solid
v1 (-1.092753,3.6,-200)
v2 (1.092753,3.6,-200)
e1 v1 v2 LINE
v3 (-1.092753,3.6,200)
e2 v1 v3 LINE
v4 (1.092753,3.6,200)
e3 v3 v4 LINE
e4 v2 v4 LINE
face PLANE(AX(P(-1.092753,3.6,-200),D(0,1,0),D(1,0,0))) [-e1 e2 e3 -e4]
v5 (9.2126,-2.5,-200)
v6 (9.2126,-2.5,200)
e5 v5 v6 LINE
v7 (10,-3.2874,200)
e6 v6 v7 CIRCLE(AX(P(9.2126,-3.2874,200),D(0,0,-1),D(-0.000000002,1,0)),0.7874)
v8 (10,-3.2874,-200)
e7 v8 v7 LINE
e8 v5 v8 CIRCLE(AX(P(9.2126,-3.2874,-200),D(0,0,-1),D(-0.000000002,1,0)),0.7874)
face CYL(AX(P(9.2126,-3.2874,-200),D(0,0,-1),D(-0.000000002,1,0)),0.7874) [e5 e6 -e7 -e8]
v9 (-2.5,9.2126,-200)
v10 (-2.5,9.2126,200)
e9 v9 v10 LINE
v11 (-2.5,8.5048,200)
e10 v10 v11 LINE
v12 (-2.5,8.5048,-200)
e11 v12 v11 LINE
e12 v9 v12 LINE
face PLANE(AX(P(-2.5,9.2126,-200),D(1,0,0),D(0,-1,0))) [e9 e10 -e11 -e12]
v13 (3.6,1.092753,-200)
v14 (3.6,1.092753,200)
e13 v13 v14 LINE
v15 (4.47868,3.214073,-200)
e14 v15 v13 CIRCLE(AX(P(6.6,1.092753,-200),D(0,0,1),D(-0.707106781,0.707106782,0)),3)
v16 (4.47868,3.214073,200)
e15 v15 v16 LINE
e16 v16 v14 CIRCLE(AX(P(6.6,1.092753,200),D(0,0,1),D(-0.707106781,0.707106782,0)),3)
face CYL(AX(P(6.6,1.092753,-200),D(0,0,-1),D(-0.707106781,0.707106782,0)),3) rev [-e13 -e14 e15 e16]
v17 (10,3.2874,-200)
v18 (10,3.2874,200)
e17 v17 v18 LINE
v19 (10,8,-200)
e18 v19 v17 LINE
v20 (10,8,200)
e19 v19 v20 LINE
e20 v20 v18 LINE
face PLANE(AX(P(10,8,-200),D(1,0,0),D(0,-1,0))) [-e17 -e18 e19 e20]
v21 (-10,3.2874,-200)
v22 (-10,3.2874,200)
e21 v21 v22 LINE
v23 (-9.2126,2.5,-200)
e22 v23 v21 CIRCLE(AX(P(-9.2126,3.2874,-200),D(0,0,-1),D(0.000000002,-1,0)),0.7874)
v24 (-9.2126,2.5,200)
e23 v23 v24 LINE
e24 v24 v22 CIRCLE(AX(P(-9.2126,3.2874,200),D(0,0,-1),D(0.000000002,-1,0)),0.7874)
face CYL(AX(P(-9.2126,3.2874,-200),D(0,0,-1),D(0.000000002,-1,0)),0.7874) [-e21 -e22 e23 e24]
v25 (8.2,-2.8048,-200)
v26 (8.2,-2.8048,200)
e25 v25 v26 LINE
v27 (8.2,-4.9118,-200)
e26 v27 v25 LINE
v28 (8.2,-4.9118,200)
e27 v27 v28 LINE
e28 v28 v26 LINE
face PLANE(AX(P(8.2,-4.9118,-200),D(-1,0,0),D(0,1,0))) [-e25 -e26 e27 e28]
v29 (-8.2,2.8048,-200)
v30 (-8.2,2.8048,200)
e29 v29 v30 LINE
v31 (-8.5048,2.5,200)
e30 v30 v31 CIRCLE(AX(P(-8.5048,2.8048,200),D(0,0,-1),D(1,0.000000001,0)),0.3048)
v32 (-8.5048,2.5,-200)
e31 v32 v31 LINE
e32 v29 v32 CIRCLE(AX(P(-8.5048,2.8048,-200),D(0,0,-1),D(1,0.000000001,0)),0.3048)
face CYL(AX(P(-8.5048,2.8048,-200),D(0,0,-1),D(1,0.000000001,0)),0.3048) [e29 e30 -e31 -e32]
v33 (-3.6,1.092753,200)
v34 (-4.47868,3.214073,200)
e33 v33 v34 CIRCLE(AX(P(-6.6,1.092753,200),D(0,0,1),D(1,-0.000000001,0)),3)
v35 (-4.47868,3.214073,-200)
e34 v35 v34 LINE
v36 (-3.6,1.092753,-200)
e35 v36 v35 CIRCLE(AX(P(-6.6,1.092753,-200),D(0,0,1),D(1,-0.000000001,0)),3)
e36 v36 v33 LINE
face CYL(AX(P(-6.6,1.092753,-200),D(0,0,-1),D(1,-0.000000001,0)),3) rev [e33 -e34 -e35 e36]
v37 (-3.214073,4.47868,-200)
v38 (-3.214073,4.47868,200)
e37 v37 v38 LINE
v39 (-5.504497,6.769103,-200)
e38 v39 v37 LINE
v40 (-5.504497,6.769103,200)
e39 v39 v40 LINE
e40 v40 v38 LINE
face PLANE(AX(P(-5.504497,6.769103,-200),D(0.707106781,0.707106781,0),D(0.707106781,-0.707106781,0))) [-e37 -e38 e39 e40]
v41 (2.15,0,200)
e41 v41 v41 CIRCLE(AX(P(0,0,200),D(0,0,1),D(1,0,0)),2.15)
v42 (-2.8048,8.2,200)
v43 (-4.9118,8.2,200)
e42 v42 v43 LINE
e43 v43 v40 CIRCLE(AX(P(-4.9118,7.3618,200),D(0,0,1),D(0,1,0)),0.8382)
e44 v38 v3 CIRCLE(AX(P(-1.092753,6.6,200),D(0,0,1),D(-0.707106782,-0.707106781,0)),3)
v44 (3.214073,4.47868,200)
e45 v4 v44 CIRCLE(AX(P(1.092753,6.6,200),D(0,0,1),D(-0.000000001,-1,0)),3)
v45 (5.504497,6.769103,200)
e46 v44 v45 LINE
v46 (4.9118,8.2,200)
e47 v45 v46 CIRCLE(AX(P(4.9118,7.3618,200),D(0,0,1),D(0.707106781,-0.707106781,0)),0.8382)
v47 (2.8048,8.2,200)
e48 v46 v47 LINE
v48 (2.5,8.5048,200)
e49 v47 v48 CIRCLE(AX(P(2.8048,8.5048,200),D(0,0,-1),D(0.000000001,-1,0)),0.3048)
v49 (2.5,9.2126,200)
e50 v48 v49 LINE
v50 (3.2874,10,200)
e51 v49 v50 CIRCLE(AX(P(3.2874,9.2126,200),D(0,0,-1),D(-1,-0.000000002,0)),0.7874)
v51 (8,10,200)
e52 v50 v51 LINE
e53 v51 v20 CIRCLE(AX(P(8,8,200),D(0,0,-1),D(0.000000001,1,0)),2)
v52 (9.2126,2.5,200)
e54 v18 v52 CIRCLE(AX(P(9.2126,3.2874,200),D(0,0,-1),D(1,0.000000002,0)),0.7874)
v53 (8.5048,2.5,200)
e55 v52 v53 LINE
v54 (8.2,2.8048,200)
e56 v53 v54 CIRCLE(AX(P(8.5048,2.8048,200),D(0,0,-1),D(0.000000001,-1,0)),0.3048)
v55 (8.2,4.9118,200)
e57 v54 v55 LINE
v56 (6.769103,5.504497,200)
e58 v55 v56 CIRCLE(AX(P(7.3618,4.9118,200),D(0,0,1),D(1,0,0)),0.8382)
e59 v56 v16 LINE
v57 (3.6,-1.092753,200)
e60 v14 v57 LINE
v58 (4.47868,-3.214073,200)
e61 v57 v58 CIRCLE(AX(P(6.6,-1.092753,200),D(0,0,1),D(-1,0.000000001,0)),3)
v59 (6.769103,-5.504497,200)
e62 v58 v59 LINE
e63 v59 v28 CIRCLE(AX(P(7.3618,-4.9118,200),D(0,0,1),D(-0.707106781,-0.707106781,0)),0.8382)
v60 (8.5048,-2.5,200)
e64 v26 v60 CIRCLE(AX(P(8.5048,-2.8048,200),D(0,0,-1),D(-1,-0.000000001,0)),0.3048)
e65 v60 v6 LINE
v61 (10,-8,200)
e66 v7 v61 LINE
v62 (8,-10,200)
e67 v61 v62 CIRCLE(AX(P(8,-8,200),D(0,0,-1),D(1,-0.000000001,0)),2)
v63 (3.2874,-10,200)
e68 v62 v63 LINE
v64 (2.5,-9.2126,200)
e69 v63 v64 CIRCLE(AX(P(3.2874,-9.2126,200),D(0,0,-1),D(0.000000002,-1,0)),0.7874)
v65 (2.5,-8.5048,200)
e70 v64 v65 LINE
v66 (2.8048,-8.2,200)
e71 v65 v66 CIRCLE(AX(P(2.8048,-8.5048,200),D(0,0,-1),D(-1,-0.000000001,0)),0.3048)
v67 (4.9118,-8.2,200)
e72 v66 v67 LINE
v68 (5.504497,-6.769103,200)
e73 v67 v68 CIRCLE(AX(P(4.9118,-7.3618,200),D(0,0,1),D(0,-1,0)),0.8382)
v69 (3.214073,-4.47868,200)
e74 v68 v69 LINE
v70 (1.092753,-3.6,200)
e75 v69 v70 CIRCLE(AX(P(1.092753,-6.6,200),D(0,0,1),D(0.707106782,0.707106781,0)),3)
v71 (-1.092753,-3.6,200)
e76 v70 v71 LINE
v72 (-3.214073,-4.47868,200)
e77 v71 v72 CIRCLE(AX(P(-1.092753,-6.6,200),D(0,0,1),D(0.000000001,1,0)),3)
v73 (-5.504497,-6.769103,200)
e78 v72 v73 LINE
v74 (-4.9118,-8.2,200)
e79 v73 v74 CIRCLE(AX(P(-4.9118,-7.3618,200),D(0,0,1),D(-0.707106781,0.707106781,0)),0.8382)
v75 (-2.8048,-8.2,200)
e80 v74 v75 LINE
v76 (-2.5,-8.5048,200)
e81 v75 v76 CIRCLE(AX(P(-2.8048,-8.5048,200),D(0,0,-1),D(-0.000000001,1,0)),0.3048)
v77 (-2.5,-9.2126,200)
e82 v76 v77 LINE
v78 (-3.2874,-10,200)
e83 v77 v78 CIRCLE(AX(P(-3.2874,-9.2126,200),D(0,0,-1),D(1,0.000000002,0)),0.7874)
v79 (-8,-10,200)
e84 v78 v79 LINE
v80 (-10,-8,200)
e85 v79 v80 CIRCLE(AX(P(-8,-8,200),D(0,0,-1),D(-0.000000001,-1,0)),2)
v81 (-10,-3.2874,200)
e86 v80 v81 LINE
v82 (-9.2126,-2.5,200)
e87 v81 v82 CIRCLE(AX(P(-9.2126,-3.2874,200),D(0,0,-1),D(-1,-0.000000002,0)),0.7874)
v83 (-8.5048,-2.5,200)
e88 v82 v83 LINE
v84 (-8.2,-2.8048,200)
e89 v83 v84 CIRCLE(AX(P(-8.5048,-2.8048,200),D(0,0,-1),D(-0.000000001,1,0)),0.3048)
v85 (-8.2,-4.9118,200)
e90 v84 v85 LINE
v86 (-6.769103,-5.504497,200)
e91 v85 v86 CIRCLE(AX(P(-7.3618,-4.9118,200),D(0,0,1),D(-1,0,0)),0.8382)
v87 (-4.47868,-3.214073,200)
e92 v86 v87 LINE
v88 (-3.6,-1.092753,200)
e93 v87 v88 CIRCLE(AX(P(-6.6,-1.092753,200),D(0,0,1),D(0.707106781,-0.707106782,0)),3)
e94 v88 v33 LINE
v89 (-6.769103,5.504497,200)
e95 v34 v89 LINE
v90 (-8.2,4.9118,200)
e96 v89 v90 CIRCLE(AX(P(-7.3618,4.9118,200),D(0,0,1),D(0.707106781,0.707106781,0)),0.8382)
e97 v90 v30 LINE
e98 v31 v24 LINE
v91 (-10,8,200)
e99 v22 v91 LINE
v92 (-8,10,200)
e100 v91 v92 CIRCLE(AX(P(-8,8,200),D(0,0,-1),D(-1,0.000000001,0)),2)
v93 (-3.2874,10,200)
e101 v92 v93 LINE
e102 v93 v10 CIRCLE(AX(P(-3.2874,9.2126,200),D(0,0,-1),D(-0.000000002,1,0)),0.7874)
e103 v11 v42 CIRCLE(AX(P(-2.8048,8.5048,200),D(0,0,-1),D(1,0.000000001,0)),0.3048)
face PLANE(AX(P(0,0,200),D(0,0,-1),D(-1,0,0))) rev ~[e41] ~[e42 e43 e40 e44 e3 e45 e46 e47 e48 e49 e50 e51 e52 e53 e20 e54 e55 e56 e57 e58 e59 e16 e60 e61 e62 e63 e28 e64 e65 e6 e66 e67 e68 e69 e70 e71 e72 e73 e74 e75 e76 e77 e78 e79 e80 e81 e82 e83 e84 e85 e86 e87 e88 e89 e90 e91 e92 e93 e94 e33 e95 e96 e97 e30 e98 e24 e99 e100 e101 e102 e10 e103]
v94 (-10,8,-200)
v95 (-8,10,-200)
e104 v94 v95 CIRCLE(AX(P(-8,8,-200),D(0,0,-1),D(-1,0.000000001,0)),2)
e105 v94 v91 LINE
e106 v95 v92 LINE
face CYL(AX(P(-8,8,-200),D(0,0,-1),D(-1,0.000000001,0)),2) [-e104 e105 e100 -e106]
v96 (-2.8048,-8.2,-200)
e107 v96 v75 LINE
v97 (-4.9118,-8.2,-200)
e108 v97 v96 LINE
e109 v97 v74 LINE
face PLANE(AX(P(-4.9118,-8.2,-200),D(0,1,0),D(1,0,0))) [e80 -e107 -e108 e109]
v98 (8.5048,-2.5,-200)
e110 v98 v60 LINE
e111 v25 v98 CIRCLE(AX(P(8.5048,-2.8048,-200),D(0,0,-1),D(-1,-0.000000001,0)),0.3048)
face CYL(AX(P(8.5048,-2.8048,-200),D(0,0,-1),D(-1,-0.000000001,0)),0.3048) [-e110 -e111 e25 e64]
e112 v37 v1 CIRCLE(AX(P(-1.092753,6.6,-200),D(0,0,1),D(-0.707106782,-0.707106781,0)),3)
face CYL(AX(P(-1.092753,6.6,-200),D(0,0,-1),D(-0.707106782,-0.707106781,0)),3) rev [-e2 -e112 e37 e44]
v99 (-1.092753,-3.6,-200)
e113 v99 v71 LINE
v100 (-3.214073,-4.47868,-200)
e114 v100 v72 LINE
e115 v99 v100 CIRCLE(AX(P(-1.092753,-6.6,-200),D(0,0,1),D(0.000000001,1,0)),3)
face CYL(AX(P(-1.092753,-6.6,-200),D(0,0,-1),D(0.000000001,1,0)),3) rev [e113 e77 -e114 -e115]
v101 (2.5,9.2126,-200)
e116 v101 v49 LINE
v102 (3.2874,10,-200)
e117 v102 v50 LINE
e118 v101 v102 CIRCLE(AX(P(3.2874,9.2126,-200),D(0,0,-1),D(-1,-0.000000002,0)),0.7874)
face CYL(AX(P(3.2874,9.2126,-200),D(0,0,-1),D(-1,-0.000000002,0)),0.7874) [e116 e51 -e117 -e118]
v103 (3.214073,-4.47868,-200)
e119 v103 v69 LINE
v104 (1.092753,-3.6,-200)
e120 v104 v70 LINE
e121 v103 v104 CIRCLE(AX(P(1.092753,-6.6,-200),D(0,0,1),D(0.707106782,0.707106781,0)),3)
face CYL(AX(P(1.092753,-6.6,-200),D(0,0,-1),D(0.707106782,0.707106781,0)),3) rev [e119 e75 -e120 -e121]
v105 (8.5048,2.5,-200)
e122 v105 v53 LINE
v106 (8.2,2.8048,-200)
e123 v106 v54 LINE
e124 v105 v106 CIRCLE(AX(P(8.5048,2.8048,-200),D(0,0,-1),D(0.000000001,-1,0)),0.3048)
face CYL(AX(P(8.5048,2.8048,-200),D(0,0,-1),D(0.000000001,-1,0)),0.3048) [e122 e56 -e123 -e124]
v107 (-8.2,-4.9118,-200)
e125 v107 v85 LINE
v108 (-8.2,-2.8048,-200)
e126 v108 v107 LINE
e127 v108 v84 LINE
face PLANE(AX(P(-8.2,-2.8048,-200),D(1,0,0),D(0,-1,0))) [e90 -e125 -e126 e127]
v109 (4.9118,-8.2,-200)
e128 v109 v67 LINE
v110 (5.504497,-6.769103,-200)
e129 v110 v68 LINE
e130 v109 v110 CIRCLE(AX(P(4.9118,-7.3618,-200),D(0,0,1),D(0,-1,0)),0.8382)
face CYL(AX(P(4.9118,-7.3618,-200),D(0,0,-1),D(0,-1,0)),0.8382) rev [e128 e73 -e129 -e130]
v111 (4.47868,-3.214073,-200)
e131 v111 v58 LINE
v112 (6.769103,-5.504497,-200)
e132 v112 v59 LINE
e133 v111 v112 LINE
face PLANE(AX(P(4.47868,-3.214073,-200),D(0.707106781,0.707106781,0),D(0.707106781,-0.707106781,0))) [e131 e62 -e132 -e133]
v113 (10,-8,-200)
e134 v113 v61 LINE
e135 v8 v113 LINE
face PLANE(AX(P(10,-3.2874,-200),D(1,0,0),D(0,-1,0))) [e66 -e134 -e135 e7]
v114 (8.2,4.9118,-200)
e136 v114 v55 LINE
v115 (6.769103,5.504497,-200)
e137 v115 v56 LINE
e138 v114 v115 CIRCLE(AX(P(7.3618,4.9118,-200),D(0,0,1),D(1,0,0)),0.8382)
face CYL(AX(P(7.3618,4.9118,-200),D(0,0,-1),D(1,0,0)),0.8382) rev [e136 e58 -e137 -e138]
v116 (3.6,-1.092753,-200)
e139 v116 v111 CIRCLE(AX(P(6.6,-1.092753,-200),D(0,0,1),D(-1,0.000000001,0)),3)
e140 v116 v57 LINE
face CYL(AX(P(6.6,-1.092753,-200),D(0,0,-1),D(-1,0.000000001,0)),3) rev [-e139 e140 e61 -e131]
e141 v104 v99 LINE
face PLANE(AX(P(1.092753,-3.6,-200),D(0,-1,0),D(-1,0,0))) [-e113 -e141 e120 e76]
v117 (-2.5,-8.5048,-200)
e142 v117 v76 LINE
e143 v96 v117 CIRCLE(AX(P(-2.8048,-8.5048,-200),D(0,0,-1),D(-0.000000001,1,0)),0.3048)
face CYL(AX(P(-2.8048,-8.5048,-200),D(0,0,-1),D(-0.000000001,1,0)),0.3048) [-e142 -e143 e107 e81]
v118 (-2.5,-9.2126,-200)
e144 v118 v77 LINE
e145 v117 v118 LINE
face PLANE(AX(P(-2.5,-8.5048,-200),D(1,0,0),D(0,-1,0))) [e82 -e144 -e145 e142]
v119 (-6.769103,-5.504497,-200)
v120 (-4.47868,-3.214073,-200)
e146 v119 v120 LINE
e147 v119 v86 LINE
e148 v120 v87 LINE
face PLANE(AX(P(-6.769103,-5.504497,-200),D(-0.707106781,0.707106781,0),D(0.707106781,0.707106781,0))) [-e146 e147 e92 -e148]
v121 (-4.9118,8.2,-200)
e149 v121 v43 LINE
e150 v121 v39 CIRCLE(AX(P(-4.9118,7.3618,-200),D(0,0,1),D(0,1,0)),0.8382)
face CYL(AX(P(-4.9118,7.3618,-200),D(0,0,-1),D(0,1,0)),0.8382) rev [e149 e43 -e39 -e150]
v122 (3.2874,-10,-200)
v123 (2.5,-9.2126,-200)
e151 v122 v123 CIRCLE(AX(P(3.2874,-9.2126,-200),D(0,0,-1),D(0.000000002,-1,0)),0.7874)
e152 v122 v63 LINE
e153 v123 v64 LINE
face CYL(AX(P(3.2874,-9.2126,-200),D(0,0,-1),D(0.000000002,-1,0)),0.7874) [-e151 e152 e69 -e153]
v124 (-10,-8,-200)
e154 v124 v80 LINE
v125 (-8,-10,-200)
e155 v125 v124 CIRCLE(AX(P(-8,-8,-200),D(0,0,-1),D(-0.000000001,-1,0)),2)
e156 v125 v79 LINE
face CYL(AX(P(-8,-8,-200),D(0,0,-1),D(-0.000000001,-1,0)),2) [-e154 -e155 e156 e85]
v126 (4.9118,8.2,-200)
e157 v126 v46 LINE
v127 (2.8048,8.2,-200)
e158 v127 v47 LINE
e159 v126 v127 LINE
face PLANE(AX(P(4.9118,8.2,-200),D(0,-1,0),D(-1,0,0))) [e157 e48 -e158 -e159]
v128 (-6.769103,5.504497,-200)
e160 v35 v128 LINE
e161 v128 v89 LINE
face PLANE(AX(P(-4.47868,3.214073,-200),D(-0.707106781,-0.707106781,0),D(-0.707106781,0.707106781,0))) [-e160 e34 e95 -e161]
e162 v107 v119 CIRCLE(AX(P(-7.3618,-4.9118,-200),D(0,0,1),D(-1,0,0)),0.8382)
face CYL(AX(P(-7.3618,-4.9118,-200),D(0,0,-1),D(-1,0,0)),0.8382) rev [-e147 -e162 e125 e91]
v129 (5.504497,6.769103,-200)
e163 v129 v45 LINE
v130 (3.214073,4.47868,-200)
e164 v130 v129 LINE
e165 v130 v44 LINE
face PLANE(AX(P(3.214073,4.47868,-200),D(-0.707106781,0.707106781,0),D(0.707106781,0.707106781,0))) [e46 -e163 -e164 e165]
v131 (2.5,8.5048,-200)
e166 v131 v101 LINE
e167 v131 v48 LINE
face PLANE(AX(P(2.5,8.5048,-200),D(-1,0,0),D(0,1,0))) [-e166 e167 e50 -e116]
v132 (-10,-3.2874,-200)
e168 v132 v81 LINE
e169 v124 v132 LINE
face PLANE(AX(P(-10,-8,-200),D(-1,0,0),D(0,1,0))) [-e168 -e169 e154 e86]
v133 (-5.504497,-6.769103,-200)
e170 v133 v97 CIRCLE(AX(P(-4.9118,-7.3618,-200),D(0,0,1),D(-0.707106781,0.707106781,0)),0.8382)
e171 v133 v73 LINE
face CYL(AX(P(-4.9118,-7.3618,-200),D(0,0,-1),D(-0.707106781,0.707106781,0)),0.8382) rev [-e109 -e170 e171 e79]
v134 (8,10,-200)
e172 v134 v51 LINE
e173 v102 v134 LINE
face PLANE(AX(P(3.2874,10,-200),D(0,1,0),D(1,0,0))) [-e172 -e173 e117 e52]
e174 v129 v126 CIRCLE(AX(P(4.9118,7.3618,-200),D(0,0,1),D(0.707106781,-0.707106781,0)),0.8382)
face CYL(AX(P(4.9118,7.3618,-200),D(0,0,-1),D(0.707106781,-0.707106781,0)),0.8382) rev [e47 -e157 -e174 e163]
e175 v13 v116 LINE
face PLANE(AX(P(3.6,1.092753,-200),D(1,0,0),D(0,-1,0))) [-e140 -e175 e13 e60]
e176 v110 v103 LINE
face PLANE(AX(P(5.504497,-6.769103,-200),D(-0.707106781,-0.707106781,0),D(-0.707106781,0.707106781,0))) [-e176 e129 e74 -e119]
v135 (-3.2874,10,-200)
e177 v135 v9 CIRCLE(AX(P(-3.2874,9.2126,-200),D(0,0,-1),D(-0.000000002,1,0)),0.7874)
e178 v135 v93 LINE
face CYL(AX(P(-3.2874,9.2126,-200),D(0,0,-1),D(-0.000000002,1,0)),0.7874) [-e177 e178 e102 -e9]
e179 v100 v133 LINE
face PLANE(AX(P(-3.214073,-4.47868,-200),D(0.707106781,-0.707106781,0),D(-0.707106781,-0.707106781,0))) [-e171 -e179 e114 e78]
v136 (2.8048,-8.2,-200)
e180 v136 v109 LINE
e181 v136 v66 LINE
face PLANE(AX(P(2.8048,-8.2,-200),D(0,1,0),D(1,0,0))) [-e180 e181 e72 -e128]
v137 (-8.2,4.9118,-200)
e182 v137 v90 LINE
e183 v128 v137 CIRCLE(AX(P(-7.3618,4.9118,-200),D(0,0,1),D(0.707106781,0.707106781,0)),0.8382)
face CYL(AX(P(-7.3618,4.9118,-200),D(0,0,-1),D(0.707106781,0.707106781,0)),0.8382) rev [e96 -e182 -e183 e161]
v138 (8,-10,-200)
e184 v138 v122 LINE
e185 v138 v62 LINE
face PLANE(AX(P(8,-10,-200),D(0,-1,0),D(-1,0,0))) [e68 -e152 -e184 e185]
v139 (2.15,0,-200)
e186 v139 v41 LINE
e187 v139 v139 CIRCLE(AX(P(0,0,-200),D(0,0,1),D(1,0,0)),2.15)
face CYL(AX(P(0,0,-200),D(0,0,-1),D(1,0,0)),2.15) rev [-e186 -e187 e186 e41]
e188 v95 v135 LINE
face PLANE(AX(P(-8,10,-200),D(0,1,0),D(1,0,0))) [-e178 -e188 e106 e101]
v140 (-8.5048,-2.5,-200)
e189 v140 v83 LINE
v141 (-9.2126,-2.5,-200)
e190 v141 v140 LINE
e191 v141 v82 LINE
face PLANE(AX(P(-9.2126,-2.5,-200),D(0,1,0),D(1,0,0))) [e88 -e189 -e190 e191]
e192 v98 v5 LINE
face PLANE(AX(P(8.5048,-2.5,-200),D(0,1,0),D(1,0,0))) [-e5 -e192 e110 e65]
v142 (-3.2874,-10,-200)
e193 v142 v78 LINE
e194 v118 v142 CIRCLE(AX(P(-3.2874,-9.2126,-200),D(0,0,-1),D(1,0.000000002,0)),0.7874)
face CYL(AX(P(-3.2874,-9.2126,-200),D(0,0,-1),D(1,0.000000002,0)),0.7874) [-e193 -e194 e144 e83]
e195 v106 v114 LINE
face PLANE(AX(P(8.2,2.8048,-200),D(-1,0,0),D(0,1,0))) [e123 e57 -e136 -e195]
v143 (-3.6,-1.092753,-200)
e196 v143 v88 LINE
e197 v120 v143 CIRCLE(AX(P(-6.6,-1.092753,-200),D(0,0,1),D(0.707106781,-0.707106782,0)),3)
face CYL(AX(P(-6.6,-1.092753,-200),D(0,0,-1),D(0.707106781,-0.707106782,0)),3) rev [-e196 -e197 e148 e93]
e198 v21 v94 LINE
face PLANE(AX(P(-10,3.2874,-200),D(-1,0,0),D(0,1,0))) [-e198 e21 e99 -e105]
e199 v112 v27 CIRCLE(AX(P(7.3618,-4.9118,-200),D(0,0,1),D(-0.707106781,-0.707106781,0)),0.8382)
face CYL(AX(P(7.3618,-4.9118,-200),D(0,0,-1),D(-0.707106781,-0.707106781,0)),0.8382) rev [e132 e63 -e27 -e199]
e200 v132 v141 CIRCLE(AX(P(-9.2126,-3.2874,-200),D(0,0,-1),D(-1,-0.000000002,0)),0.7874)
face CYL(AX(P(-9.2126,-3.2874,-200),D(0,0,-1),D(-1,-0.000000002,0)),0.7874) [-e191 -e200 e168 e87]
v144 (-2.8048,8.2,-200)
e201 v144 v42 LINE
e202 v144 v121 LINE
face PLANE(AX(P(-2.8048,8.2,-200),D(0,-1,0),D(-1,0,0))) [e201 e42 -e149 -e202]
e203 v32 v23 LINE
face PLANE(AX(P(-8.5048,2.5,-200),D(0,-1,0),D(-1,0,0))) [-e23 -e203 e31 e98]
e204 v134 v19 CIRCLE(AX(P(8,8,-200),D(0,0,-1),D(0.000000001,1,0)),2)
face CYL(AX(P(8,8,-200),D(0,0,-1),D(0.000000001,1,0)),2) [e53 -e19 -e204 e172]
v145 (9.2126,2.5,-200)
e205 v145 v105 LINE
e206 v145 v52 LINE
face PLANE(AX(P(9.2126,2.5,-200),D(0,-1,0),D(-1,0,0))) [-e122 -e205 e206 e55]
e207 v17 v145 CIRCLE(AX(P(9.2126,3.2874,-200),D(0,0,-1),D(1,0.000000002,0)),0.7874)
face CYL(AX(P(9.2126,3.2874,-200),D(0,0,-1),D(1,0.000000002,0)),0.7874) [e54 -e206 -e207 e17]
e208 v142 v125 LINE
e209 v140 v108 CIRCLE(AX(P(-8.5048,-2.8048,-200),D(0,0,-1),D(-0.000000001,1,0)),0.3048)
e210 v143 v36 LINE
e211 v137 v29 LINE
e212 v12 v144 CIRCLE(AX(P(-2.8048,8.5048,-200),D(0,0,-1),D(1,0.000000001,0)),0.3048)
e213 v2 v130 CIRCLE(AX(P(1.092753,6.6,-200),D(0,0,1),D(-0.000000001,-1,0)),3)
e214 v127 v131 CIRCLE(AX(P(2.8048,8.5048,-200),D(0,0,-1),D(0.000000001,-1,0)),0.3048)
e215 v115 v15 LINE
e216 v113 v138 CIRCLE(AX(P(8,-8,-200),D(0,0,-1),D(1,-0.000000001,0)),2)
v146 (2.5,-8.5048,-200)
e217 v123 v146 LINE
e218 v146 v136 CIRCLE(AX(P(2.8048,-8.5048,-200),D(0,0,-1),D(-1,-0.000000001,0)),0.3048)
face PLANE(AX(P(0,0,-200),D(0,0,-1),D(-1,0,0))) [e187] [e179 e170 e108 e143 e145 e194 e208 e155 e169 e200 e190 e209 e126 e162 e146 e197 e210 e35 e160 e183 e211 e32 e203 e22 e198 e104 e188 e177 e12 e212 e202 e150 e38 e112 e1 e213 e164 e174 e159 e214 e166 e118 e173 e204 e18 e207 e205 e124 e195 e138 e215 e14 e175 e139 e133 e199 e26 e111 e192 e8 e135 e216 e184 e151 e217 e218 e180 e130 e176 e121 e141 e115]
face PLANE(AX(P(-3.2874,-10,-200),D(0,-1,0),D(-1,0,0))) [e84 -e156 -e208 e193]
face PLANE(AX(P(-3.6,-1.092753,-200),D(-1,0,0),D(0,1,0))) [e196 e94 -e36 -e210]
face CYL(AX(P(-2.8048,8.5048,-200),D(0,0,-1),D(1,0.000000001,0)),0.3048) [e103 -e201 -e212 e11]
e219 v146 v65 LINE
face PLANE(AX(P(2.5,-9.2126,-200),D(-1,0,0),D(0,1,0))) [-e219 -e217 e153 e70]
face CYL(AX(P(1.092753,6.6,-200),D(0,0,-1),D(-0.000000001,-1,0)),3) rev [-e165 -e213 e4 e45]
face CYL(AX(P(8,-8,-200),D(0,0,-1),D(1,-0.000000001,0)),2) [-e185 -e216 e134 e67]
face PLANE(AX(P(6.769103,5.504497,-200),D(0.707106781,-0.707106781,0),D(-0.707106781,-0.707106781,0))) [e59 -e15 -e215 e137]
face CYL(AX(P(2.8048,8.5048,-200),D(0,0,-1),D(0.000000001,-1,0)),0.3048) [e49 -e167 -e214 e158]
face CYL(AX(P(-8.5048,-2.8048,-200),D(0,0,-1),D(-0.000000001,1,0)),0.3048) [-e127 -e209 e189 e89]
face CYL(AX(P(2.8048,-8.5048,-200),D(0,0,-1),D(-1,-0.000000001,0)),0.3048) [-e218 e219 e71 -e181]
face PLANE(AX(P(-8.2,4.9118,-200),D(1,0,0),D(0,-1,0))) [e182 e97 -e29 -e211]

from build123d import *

# Parameters (mm, degrees)
BOSS_EXTRUDE1_DEPTH      = 200
BOSS_EXTRUDE1_DEPTH_BACK = 200
SKETCH3_R                = 2.15


with BuildPart() as part:
    # Sketch3 → Boss-Extrude1 (new, two sides: drawn at the far end of the back side and taken through both)
    with BuildSketch(Plane.XY.offset(-BOSS_EXTRUDE1_DEPTH_BACK)):
        with BuildLine():
            Line((3.2874, 10), (8, 10))
            ThreePointArc((8, 10), (9.414213562, 9.414213562), (10, 8))
            Line((10, 8), (10, 3.2874))
            ThreePointArc((10, 3.2874), (9.76937588, 2.73062412), (9.2126, 2.5))
            Line((9.2126, 2.5), (8.5048, 2.5))
            ThreePointArc((8.5048, 2.5), (8.289273853, 2.589273853), (8.2, 2.8048))
            Line((8.2, 2.8048), (8.2, 4.9118))
            ThreePointArc((8.2, 4.9118), (7.682565253, 5.686195824), (6.769103096, 5.504496904))
            Line((6.769103096, 5.504496904), (4.478679656, 3.214073464))
            ThreePointArc((4.478679656, 3.214073464), (3.828361402, 2.240803418), (3.6, 1.092753121))
            Line((3.6, 1.092753121), (3.6, -1.092753121))
            ThreePointArc((3.6, -1.092753121), (3.828361402, -2.240803418), (4.478679656, -3.214073464))
            Line((4.478679656, -3.214073464), (6.769103096, -5.504496904))
            ThreePointArc((6.769103096, -5.504496904), (7.682565253, -5.686195824), (8.2, -4.9118))
            Line((8.2, -4.9118), (8.2, -2.8048))
            ThreePointArc((8.2, -2.8048), (8.289273853, -2.589273853), (8.5048, -2.5))
            Line((8.5048, -2.5), (9.2126, -2.5))
            ThreePointArc((9.2126, -2.5), (9.76937588, -2.73062412), (10, -3.2874))
            Line((10, -3.2874), (10, -8))
            ThreePointArc((10, -8), (9.414213562, -9.414213562), (8, -10))
            Line((8, -10), (3.2874, -10))
            ThreePointArc((3.2874, -10), (2.73062412, -9.76937588), (2.5, -9.2126))
            Line((2.5, -9.2126), (2.5, -8.5048))
            ThreePointArc((2.5, -8.5048), (2.589273853, -8.289273853), (2.8048, -8.2))
            Line((2.8048, -8.2), (4.9118, -8.2))
            ThreePointArc((4.9118, -8.2), (5.686195824, -7.682565253), (5.504496904, -6.769103096))
            Line((5.504496904, -6.769103096), (3.214073464, -4.478679656))
            ThreePointArc((3.214073464, -4.478679656), (2.240803418, -3.828361402), (1.092753121, -3.6))
            Line((1.092753121, -3.6), (-1.092753121, -3.6))
            ThreePointArc((-1.092753121, -3.6), (-2.240803418, -3.828361402), (-3.214073464, -4.478679656))
            Line((-3.214073464, -4.478679656), (-5.504496904, -6.769103096))
            ThreePointArc((-5.504496904, -6.769103096), (-5.686195824, -7.682565253), (-4.9118, -8.2))
            Line((-4.9118, -8.2), (-2.8048, -8.2))
            ThreePointArc((-2.8048, -8.2), (-2.589273853, -8.289273853), (-2.5, -8.5048))
            Line((-2.5, -8.5048), (-2.5, -9.2126))
            ThreePointArc((-2.5, -9.2126), (-2.73062412, -9.76937588), (-3.2874, -10))
            Line((-3.2874, -10), (-8, -10))
            ThreePointArc((-8, -10), (-9.414213562, -9.414213562), (-10, -8))
            Line((-10, -8), (-10, -3.2874))
            ThreePointArc((-10, -3.2874), (-9.76937588, -2.73062412), (-9.2126, -2.5))
            Line((-9.2126, -2.5), (-8.5048, -2.5))
            ThreePointArc((-8.5048, -2.5), (-8.289273853, -2.589273853), (-8.2, -2.8048))
            Line((-8.2, -2.8048), (-8.2, -4.9118))
            ThreePointArc((-8.2, -4.9118), (-7.682565253, -5.686195824), (-6.769103096, -5.504496904))
            Line((-6.769103096, -5.504496904), (-4.478679656, -3.214073464))
            ThreePointArc((-4.478679656, -3.214073464), (-3.828361402, -2.240803418), (-3.6, -1.092753121))
            Line((-3.6, -1.092753121), (-3.6, 1.092753121))
            ThreePointArc((-3.6, 1.092753121), (-3.828361402, 2.240803418), (-4.478679656, 3.214073464))
            Line((-4.478679656, 3.214073464), (-6.769103096, 5.504496904))
            ThreePointArc((-6.769103096, 5.504496904), (-7.682565253, 5.686195824), (-8.2, 4.9118))
            Line((-8.2, 4.9118), (-8.2, 2.8048))
            ThreePointArc((-8.2, 2.8048), (-8.289273853, 2.589273853), (-8.5048, 2.5))
            Line((-8.5048, 2.5), (-9.2126, 2.5))
            ThreePointArc((-9.2126, 2.5), (-9.76937588, 2.73062412), (-10, 3.2874))
            Line((-10, 3.2874), (-10, 8))
            ThreePointArc((-10, 8), (-9.414213562, 9.414213562), (-8, 10))
            Line((-8, 10), (-3.2874, 10))
            ThreePointArc((-3.2874, 10), (-2.73062412, 9.76937588), (-2.5, 9.2126))
            Line((-2.5, 9.2126), (-2.5, 8.5048))
            ThreePointArc((-2.5, 8.5048), (-2.589273853, 8.289273853), (-2.8048, 8.2))
            Line((-2.8048, 8.2), (-4.9118, 8.2))
            ThreePointArc((-4.9118, 8.2), (-5.686195824, 7.682565253), (-5.504496904, 6.769103096))
            Line((-5.504496904, 6.769103096), (-3.214073464, 4.478679656))
            ThreePointArc((-3.214073464, 4.478679656), (-2.240803418, 3.828361402), (-1.092753121, 3.6))
            Line((-1.092753121, 3.6), (1.092753121, 3.6))
            ThreePointArc((1.092753121, 3.6), (2.240803418, 3.828361402), (3.214073464, 4.478679656))
            Line((3.214073464, 4.478679656), (5.504496904, 6.769103096))
            ThreePointArc((5.504496904, 6.769103096), (5.686195824, 7.682565253), (4.9118, 8.2))
            Line((4.9118, 8.2), (2.8048, 8.2))
            ThreePointArc((2.8048, 8.2), (2.589273853, 8.289273853), (2.5, 8.5048))
            Line((2.5, 8.5048), (2.5, 9.2126))
            ThreePointArc((2.5, 9.2126), (2.73062412, 9.76937588), (3.2874, 10))
        make_face()
        Circle(SKETCH3_R, mode=Mode.SUBTRACT)
    extrude(amount=BOSS_EXTRUDE1_DEPTH + BOSS_EXTRUDE1_DEPTH_BACK)


solid = part.part
